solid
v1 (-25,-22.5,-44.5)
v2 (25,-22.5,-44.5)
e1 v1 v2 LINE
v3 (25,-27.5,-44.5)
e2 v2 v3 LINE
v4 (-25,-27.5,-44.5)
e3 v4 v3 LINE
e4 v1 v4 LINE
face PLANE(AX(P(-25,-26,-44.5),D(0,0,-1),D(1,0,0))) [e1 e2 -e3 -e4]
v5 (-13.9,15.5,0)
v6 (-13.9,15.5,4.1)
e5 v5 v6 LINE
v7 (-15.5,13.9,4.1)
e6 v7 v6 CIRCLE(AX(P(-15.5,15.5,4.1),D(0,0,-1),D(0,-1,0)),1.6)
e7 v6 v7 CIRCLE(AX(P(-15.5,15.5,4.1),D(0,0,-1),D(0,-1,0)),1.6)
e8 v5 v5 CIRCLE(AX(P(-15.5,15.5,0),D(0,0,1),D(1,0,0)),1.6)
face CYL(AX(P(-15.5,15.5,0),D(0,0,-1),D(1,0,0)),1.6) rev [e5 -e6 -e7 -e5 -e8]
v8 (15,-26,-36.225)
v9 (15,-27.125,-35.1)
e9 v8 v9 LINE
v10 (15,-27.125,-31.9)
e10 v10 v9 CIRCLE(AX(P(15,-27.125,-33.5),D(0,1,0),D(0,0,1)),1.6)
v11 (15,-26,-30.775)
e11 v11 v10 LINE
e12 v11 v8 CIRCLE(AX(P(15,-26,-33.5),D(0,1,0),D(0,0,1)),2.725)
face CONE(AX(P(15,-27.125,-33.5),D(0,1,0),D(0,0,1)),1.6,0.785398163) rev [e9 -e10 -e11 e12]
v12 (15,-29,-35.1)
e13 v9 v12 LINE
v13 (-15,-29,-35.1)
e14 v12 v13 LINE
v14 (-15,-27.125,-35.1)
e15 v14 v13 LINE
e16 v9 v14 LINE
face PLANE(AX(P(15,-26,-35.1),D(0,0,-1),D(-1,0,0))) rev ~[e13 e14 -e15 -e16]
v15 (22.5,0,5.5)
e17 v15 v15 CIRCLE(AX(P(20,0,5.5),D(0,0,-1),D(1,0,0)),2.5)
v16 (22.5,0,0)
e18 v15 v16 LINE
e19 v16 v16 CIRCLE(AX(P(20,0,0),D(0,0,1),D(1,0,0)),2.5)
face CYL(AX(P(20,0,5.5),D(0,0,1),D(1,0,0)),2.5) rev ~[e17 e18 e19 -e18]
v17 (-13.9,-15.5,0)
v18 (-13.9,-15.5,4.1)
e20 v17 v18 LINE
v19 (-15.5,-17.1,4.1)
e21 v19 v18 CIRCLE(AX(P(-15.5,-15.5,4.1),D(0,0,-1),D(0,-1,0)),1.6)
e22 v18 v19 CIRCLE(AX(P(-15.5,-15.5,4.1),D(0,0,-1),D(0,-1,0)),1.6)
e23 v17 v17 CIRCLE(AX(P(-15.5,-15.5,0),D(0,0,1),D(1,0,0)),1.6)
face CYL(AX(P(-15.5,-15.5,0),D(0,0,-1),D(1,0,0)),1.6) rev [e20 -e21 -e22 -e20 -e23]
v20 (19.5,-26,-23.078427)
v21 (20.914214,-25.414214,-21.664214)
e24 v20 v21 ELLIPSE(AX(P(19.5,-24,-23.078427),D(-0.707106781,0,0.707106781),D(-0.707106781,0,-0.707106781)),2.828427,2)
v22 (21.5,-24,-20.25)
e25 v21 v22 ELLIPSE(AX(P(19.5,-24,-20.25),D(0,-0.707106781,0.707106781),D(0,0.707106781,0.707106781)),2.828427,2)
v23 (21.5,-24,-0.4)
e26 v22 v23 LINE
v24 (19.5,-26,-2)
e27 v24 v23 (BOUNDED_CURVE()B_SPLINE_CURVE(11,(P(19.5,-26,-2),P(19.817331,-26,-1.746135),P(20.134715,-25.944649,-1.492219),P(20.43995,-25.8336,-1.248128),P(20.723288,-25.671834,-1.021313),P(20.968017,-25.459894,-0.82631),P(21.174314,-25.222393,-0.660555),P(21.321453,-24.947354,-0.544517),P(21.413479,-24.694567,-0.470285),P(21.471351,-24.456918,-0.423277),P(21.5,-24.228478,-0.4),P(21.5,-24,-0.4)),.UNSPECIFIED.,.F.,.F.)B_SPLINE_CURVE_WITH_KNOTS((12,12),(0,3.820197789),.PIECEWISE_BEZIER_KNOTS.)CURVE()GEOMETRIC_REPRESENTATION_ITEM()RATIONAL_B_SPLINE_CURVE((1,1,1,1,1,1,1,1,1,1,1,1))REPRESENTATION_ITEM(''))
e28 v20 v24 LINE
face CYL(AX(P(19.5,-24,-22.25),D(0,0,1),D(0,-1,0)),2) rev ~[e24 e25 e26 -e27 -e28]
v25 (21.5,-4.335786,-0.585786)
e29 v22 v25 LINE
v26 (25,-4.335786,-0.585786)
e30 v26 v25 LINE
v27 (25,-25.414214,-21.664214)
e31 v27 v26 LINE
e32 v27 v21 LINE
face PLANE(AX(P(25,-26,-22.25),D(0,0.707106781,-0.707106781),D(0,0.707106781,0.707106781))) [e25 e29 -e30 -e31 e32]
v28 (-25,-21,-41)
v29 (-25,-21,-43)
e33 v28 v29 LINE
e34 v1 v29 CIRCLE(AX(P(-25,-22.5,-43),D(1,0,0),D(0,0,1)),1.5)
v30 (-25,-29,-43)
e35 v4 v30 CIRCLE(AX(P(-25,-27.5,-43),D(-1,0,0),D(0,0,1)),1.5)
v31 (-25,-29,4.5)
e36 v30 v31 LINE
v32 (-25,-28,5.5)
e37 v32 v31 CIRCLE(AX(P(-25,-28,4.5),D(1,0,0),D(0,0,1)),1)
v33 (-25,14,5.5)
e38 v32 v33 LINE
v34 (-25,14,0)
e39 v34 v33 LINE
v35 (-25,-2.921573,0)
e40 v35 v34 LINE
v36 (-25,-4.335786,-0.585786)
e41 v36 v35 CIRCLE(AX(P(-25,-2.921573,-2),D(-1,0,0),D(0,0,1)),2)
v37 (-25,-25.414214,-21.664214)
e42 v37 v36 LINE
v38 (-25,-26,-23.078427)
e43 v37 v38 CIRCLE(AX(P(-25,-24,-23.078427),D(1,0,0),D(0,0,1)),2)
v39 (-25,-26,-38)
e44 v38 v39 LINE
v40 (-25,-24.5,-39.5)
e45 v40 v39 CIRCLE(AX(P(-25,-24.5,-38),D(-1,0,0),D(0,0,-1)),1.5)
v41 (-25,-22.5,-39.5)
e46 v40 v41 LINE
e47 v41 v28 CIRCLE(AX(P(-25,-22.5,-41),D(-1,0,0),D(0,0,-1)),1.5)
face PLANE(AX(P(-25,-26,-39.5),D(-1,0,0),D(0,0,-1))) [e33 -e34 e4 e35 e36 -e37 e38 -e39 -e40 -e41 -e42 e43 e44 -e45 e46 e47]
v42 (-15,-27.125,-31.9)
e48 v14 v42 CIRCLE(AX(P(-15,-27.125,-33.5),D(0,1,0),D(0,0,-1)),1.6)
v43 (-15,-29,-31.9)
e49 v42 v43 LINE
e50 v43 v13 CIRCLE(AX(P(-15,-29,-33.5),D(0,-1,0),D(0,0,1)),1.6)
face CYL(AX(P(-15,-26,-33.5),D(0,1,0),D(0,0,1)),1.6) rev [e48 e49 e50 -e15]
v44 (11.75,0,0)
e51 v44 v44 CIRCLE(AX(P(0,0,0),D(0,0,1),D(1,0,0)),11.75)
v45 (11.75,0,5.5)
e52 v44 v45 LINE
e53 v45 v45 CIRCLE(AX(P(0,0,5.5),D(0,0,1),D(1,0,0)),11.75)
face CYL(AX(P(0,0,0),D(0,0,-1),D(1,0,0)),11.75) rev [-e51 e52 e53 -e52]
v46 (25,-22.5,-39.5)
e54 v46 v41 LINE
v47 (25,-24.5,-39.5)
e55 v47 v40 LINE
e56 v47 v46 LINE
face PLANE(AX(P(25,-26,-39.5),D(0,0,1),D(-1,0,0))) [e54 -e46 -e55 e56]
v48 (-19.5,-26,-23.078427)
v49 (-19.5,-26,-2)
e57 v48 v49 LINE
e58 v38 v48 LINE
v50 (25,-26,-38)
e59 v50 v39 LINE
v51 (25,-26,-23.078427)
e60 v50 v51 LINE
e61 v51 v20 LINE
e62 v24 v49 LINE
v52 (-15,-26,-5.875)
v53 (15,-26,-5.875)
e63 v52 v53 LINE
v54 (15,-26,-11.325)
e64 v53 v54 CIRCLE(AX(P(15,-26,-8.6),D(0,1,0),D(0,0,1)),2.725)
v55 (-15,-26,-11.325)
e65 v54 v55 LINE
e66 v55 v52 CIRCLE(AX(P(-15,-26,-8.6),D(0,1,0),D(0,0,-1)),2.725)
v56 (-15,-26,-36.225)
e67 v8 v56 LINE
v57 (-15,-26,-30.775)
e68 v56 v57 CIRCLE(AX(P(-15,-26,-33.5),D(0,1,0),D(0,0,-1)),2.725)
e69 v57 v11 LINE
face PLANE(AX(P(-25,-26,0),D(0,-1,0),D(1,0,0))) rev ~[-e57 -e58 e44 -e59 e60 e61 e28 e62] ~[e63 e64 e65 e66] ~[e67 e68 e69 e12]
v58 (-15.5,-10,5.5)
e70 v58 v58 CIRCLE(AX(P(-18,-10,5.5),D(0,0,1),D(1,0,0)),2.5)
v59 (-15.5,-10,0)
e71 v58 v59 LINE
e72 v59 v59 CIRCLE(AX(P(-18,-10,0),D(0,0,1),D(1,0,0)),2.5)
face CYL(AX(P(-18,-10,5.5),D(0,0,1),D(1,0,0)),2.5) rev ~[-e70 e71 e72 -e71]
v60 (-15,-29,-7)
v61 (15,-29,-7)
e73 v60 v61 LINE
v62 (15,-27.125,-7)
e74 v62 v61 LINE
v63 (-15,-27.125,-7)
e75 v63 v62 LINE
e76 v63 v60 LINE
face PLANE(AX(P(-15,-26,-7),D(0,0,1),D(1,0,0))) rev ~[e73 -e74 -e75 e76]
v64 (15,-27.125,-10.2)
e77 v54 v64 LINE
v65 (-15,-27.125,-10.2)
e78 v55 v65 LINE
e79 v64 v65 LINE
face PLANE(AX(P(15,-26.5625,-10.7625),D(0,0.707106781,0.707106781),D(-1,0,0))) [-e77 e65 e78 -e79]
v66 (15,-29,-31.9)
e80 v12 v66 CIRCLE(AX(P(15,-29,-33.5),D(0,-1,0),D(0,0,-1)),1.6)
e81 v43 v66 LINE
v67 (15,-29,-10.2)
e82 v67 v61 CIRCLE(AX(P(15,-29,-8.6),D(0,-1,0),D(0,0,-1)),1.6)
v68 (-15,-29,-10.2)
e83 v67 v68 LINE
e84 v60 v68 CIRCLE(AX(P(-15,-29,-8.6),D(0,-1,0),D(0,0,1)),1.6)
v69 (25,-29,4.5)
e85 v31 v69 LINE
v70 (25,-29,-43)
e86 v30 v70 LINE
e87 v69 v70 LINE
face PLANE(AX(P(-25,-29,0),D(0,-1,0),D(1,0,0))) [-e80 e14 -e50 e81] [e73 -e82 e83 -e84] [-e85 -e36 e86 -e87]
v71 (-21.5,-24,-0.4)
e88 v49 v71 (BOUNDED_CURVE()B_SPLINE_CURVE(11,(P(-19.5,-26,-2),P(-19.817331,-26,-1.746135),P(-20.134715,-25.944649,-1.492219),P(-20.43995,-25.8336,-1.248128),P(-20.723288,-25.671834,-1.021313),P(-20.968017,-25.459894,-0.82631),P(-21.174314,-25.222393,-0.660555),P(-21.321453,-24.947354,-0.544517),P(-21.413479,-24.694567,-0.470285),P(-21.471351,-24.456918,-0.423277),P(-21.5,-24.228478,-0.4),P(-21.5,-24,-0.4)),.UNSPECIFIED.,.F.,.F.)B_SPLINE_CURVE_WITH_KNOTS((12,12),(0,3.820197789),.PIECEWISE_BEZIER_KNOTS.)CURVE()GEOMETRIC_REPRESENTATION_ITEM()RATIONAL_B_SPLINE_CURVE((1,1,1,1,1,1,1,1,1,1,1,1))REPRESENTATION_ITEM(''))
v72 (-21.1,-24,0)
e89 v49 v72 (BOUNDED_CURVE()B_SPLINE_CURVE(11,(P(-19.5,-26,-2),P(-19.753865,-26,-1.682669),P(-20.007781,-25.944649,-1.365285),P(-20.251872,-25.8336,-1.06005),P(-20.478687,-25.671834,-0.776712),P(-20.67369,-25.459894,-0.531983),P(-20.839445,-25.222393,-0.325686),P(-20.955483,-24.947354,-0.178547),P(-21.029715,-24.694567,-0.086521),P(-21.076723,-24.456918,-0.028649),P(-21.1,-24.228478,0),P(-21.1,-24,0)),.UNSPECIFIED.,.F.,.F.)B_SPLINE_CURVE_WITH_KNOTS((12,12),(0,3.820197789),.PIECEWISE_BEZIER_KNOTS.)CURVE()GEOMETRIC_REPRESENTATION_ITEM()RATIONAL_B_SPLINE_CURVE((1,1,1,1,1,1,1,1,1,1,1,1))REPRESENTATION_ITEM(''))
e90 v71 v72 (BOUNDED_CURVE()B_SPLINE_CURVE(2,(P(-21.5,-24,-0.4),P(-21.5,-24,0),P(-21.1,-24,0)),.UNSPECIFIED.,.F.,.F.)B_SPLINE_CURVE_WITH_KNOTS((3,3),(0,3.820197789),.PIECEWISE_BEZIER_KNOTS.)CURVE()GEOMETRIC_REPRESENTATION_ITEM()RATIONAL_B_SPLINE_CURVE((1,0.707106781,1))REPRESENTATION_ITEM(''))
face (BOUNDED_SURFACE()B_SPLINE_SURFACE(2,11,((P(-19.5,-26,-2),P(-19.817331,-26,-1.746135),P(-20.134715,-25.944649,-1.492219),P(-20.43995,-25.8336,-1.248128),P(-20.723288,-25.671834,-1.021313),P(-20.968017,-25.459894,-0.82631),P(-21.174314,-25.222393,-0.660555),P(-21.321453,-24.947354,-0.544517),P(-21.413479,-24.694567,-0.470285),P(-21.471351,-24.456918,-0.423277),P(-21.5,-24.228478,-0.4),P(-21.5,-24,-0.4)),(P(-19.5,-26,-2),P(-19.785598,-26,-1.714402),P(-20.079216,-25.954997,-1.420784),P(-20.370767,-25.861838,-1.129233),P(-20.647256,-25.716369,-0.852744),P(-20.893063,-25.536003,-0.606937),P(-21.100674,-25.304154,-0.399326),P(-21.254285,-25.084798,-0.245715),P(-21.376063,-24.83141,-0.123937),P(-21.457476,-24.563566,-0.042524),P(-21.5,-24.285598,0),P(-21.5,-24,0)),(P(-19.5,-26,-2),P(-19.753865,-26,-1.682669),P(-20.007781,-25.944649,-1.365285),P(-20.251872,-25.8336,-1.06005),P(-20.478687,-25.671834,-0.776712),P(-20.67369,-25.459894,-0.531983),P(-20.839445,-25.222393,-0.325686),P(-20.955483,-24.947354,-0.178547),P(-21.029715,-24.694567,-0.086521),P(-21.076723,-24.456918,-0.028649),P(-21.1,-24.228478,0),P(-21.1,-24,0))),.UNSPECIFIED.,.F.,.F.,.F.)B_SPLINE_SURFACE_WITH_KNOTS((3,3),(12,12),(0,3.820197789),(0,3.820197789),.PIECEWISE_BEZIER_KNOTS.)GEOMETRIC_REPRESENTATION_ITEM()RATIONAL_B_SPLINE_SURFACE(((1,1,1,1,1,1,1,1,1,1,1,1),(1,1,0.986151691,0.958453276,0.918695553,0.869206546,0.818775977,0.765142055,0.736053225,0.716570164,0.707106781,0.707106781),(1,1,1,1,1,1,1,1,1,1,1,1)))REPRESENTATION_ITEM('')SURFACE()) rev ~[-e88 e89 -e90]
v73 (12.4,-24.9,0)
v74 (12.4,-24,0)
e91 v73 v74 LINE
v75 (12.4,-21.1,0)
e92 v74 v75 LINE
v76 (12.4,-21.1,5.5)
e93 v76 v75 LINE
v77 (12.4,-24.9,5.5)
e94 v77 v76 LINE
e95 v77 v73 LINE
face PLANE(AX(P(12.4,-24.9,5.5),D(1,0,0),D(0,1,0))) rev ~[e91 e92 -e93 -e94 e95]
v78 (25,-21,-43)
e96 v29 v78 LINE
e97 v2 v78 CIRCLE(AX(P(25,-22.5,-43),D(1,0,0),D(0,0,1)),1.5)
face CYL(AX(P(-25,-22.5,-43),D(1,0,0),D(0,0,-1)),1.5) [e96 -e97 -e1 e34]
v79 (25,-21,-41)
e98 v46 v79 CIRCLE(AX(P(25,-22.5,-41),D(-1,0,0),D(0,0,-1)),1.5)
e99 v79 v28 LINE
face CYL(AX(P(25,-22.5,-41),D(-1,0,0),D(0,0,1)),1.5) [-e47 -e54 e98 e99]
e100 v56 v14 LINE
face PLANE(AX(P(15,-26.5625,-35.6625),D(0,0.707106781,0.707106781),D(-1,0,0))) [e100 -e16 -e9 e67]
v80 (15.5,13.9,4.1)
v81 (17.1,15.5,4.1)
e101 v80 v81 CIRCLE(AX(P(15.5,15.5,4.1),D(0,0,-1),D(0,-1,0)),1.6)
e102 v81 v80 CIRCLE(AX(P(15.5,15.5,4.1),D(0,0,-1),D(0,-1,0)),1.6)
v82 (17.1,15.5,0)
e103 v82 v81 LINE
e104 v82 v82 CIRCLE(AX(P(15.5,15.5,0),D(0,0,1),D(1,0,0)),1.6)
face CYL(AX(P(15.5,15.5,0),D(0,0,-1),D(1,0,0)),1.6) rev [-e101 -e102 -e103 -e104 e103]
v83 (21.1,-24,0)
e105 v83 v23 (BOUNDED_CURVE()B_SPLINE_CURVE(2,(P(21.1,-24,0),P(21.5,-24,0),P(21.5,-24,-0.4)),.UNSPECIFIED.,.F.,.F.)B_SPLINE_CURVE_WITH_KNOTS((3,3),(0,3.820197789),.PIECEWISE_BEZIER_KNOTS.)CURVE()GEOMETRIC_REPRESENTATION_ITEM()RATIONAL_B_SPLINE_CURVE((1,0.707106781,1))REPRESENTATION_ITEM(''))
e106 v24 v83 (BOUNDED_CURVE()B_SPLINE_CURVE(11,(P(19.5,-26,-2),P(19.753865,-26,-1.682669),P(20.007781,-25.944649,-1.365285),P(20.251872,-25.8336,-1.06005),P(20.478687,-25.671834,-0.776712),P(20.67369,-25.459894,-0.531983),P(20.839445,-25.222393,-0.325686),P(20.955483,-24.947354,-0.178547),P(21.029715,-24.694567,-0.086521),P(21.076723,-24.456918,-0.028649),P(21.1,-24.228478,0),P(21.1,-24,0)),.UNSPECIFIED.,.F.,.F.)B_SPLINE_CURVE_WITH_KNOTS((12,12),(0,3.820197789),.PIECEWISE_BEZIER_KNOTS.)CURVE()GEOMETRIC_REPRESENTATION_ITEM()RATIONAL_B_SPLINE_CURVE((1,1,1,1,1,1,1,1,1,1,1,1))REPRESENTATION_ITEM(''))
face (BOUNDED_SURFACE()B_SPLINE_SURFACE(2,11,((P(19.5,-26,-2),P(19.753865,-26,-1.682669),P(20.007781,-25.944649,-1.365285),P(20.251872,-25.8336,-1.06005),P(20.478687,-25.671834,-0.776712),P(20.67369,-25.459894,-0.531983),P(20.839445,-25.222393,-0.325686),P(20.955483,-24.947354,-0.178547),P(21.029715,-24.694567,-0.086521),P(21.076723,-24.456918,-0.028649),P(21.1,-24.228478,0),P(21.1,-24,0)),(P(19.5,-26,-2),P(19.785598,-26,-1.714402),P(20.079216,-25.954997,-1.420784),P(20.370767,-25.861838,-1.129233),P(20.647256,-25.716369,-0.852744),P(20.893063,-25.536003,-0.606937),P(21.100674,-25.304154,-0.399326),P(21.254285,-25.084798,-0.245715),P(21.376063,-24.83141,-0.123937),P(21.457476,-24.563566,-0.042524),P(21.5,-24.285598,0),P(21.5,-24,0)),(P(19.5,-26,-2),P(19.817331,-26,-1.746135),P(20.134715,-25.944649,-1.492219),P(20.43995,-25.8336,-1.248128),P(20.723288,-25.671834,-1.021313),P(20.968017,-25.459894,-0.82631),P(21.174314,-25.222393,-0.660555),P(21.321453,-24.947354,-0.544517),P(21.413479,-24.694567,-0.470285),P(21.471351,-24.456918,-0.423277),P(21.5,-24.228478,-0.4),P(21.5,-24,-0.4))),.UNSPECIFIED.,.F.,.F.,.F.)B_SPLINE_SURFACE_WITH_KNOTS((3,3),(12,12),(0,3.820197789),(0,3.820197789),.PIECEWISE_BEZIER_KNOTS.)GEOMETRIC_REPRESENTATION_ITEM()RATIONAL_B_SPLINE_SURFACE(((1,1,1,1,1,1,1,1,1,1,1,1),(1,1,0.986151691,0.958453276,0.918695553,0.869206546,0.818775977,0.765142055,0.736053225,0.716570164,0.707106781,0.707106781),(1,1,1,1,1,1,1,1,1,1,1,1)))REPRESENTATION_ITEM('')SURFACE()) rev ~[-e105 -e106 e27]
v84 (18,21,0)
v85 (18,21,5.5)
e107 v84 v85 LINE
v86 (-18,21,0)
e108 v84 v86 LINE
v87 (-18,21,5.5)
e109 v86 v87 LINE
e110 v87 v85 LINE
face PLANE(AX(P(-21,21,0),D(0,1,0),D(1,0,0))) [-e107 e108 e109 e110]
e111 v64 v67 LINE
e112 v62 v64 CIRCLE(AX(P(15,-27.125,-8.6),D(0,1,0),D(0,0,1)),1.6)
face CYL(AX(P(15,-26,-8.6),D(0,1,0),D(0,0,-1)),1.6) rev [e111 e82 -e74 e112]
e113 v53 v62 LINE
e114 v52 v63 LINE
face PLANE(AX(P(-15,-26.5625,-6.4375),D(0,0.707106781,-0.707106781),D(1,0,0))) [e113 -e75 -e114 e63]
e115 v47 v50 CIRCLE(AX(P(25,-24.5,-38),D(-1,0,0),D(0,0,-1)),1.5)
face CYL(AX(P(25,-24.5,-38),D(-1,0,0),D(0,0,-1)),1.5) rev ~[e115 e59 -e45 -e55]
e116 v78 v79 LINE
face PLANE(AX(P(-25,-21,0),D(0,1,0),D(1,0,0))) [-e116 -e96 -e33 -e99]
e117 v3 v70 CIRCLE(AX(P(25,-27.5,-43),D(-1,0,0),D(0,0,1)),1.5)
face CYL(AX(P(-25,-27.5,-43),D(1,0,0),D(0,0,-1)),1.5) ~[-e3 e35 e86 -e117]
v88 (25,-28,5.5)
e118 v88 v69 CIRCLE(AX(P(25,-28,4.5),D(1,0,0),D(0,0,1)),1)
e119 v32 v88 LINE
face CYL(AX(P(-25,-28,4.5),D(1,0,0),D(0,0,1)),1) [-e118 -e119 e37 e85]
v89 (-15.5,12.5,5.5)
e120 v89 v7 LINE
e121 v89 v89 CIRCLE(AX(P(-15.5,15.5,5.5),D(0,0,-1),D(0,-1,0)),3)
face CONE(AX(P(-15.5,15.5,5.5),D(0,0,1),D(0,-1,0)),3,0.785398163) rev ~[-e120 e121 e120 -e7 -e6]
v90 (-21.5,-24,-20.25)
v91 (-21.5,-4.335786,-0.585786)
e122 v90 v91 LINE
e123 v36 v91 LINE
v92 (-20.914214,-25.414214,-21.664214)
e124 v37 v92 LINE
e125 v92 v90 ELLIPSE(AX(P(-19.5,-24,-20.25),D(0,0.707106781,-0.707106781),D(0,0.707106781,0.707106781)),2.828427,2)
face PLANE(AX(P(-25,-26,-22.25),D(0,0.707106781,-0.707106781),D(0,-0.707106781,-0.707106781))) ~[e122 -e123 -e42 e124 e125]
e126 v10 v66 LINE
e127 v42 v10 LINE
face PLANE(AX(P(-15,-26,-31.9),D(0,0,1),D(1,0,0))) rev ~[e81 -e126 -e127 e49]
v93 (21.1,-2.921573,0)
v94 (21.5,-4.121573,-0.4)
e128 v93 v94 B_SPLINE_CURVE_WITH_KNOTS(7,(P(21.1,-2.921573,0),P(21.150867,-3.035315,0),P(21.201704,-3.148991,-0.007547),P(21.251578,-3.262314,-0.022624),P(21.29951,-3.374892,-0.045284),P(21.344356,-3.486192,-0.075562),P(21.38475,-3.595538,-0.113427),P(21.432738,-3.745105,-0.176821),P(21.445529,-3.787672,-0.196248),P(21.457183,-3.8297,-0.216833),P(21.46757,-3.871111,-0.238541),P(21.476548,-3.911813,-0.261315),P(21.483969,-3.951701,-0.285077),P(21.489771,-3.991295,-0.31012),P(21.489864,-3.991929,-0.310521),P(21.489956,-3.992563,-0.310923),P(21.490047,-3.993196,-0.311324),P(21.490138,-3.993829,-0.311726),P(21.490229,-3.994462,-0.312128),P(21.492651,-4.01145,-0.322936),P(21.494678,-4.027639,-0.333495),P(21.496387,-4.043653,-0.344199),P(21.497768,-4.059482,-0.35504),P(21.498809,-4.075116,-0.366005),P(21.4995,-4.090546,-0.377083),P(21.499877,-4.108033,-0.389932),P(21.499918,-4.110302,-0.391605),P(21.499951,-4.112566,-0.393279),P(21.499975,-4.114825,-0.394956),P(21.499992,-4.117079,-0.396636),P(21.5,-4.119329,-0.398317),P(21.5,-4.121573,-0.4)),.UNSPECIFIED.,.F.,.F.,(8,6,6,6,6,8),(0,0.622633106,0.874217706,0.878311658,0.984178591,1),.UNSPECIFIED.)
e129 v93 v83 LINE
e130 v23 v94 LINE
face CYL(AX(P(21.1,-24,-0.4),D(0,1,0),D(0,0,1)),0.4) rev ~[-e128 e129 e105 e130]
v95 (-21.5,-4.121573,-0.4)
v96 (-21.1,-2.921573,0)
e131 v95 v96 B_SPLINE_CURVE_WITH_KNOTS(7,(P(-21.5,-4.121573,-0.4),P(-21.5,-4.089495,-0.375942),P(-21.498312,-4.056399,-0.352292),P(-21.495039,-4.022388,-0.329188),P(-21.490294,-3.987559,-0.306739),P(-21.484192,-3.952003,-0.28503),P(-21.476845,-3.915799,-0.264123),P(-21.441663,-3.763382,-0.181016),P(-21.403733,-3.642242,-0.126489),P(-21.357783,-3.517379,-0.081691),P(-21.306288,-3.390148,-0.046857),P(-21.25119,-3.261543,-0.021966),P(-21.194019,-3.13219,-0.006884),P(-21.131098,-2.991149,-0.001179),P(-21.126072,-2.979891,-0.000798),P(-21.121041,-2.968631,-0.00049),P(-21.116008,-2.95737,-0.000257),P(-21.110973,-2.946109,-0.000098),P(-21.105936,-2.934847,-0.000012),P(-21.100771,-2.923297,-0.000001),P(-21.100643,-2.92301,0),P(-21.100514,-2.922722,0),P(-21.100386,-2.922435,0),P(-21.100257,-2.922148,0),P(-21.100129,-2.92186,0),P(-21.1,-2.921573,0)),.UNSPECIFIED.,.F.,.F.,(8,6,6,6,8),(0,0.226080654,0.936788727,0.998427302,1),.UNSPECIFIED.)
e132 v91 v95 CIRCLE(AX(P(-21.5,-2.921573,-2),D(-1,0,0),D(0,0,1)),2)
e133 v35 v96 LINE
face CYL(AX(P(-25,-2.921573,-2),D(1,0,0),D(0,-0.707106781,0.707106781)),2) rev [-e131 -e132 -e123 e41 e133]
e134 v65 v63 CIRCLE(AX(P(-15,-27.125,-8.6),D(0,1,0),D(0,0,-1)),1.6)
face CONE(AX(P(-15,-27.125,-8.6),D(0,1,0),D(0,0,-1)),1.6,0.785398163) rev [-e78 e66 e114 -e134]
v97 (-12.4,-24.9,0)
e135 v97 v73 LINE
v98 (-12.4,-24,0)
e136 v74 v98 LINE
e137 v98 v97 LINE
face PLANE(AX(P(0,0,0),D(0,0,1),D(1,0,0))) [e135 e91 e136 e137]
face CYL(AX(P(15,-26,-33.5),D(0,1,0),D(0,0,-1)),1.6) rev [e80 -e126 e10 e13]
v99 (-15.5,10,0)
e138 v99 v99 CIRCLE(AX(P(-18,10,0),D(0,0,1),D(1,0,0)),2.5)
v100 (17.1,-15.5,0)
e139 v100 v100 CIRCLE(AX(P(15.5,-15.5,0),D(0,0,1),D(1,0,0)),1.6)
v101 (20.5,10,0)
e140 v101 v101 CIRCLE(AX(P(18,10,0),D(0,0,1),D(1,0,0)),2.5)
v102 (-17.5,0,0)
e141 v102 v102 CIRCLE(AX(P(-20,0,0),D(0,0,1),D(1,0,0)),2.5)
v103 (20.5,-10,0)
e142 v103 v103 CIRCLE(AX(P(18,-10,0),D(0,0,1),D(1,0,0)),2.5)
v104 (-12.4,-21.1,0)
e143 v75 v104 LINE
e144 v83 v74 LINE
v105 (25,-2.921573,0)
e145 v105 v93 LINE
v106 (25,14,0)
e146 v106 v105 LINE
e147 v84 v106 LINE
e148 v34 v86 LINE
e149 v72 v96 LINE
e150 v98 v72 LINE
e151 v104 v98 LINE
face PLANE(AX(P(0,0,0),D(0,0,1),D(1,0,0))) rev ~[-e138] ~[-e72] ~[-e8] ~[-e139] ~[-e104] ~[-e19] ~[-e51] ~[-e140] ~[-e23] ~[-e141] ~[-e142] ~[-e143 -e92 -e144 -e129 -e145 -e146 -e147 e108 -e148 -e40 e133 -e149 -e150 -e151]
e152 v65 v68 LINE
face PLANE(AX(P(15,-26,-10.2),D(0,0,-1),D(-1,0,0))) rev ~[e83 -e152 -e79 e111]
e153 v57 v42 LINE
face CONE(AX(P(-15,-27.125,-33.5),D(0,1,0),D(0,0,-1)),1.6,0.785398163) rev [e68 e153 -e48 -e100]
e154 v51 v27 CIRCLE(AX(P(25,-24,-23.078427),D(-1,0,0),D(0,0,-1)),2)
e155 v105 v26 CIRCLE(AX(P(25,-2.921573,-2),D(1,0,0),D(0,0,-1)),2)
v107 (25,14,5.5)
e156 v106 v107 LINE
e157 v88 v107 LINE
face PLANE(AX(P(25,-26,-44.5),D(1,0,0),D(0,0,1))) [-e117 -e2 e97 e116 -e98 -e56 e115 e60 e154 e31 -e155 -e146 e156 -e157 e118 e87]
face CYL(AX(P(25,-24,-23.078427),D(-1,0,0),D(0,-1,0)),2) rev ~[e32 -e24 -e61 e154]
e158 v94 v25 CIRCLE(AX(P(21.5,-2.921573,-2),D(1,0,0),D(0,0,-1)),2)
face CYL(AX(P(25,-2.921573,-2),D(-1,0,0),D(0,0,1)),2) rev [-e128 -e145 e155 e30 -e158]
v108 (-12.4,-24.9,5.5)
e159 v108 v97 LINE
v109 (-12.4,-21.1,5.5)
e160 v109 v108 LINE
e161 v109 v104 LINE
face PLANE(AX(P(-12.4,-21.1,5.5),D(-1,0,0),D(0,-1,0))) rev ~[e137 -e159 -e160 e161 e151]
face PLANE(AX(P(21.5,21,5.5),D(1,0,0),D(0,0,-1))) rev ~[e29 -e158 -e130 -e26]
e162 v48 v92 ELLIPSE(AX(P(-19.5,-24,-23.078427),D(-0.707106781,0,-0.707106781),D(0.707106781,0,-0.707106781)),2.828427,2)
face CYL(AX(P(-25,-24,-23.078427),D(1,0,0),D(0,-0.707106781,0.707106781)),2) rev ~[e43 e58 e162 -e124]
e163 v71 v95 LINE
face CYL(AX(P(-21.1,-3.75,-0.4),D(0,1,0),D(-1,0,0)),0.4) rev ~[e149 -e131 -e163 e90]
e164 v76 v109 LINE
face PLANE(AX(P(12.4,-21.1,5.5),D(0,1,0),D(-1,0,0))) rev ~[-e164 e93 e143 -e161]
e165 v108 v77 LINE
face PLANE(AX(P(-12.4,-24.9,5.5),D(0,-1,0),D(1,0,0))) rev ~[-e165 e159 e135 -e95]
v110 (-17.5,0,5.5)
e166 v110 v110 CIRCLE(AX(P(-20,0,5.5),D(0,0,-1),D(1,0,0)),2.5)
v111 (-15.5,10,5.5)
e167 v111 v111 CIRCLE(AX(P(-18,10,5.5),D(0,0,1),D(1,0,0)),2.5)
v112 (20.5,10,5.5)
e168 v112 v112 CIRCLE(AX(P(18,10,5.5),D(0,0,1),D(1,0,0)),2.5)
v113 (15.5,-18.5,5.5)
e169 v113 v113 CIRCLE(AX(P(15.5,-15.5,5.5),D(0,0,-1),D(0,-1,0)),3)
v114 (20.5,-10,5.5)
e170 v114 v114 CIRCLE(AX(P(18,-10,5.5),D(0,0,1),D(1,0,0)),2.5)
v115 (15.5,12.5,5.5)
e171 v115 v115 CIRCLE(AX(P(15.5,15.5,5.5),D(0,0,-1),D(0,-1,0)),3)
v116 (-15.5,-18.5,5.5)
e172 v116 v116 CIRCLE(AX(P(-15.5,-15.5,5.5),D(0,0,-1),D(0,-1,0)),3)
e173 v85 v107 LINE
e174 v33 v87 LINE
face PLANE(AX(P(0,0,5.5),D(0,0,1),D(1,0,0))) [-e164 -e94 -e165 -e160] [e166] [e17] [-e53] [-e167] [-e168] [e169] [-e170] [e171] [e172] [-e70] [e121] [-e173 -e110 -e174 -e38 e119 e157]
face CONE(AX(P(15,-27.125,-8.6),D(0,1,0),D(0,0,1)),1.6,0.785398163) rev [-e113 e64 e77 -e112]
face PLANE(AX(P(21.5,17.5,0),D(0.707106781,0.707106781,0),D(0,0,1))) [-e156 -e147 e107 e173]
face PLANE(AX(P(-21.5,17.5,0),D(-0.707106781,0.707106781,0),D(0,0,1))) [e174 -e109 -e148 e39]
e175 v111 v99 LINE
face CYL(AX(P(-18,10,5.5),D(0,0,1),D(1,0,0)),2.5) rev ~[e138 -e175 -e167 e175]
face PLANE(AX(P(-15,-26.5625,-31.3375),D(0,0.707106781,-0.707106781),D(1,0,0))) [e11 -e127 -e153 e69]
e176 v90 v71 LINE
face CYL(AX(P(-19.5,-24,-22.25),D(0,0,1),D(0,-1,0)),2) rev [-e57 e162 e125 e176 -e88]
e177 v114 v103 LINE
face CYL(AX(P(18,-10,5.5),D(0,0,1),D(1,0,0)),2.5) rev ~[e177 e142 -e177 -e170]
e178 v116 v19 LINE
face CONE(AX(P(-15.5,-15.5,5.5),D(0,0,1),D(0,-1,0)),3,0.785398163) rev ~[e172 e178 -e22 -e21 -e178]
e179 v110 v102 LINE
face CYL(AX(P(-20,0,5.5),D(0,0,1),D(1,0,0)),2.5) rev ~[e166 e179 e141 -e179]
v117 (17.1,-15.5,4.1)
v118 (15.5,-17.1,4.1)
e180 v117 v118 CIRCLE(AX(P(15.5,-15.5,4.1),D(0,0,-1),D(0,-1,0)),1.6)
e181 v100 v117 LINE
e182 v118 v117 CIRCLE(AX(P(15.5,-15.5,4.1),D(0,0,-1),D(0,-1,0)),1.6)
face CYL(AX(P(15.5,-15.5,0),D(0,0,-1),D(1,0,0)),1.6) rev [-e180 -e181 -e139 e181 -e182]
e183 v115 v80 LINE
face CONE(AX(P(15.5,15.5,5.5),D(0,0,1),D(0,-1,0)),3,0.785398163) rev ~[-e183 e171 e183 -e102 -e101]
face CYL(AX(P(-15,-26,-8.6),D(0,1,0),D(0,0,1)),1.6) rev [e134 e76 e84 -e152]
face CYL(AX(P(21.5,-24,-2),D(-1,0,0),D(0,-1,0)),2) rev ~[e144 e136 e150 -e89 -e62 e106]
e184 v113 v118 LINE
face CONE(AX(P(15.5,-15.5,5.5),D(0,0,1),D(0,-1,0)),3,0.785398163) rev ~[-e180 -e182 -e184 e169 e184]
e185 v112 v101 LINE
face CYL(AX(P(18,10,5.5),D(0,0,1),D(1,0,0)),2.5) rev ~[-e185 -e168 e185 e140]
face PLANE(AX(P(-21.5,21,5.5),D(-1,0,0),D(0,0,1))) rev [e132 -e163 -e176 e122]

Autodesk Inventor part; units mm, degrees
ref_plane "YZ Plane" through (0, 0, 0) normal (1, 0, 0) x (0, 1, 0)
ref_plane "XZ Plane" through (0, 0, 0) normal (0, 1, 0) x (-1, 0, 0)
ref_plane "XY Plane" through (0, 0, 0) normal (0, 0, 1) x (1, 0, 0)
sketch "Sketch1" plane through (0, 0, 0) normal (0, 0, 1) x (1, 0, 0)
  line L0 (-21, 21) -> (21, 21)
  line L1 (21, 21) -> (21, -21)
  line L2 (21, -21) -> (-21, -21)
  line L3 (-21, -21) -> (-21, 21)
  line L4 (-21, 21) -> (21, -21) construction
  line L5 (21, 21) -> (-21, -21) construction
  circle A0 centre (15.5, 15.5) radius 1.6
  circle A1 centre (15.5, -15.5) radius 1.6
  line L6 (0, 0) -> (0, 3.2399) construction
  circle A2 centre (-15.5, 15.5) radius 1.6
  circle A3 centre (-15.5, -15.5) radius 1.6
  circle A4 centre (0, 0) radius 11.75
  line L7 (-25, 21) -> (25, 21)
  line L8 (25, 21) -> (25, -26)
  line L9 (25, -26) -> (-25, -26)
  line L10 (-25, -26) -> (-25, 21)
  dimension "d0" = 42
  dimension "d1" = 42
  dimension "d2" = 31
  dimension "d3" = 3.2
  dimension "d4" = 3.2
  dimension "d5" = 23.5
  dimension "d9" = 4
  dimension "d10" = 4
  dimension "d11" = 5
extrude "Extrusion1" add sketch "Sketch1" along normal blind 5.5
sketch "Sketch2" plane through (-25, -26, 0) normal (0, -1, 0) x (1, 0, 0)
  line L0 (0, 5.5) -> (50, 5.5) projected
  line L1 (50, 5.5) -> (0, 5.5)
  line L2 (0, 5.5) -> (0, -44.5)
  line L3 (0, -44.5) -> (50, -44.5)
  line L4 (50, -44.5) -> (50, 5.5)
  line L5 (0, 0) -> (0, 5.5) projected
  line L6 (0, 0) -> (50, -44.5) construction
  line L7 (50, 0) -> (0, -44.5) construction
  line L8 (50, 0) -> (0, 0) projected
  line L9 (8.4, -33.5) -> (41.6, -33.5) construction
  line L10 (10, -31.9) -> (40, -31.9)
  line L11 (40, -35.1) -> (10, -35.1)
  arc A0 (10, -31.9) -> (10, -35.1) centre (10, -33.5) ccw
  arc A1 (40, -35.1) -> (40, -31.9) centre (40, -33.5) ccw
  line L12 (8.4, -8.6) -> (41.6, -8.6) construction
  line L13 (10, -7) -> (40, -7)
  line L14 (40, -10.2) -> (10, -10.2)
  arc A2 (10, -7) -> (10, -10.2) centre (10, -8.6) ccw
  arc A3 (40, -10.2) -> (40, -7) centre (40, -8.6) ccw
  point P0 (25, 0)
  point P1 (49.9436, 3)
  point P2 (25, -33.5)
  point P3 (25, -8.6)
  dimension "d12" = 50
  dimension "d71" = 1.6
  dimension "d72" = 1.6
  dimension "d73" = 25
  dimension "d74" = 25
  dimension "d75" = 30
  dimension "d76" = 30
  dimension "d78" = 7
  dimension "d86" = 11
extrude "Extrusion2" add sketch "Sketch2" along normal blind 3
sketch "Sketch5" plane through (25, 21, 5.5) normal (1, 0, 0) x (0, 0, -1)
  line L0 (50, -47) -> (5.5, -47) projected
  line L1 (27.75, -47) -> (5.5, -24.75)
  line L2 (5.5, -47) -> (5.5, 0) projected
  point P0 (5.5, -21)
  dimension "d20" = 45
extrude "Extrusion3" add sketch "Sketch5" against normal blind 3.5
mirror "Mirror1" about plane through (0, 0, 0) normal (1, 0, 0) of "Extrusion3"
fillet "Fillet1" radius 2 7 edges at (0, -26, 0) (-21.5, -26, -11.125) (21.5, -26, -11.125) (23.25, -26, -22.25) (23.25, -3.75, 0) (-23.25, -3.75, 0) (-23.25, -26, -22.25)
fillet "Fillet2" radius 0.4 4 edges at (-20.9142, -25.4142, -0.5858) (-21.5, -13.875, 0) (20.9142, -25.4142, -0.5858) (21.5, -13.875, 0)
sketch "Sketch6" plane through (-25, -26, 0) normal (0, 1, 0) x (1, 0, 0)
  line L0 (0, -5.5) -> (0, 44.5) projected
  line L1 (50, 44.5) -> (50, -5.5) projected
  line L2 (0, 44.5) -> (50, 44.5)
  line L3 (50, 44.5) -> (50, 39.5)
  line L4 (50, 39.5) -> (0, 39.5)
  line L5 (0, 39.5) -> (0, 44.5)
  point P0 (25, 0)
  point P1 (0, 39.5)
  dimension "d25" = 5
extrude "Extrusion4" add sketch "Sketch6" along normal blind 5
fillet "Fillet3" radius 1.5 4 edges at (0, -21, -39.5) (0, -21, -44.5) (0, -26, -39.5) (0, -29, -44.5)
sketch "Sketch7" plane through (0, 0, 5.5) normal (0, 0, 1) x (1, 0, 0)
  line L0 (25, 21) -> (-25, 21) projected
  line L1 (-25, 21) -> (-25, -29) projected
  line L2 (25, -29) -> (-25, -29) projected
  line L3 (25, 21) -> (25, -29) projected
  circle A0 centre (15.5, 15.5) radius 1.6 projected
  circle A1 centre (15.5, -15.5) radius 1.6 projected
  circle A2 centre (-15.5, 15.5) radius 1.6 projected
  circle A3 centre (-15.5, -15.5) radius 1.6 projected
  circle A4 centre (0, 0) radius 11.75 projected
  line L4 (35, 0) -> (-35, 0)
  line L5 (0, 0) -> (0, -3.907) construction
  line L6 (-12.4, -24.9) -> (12.4, -24.9)
  line L7 (12.4, -24.9) -> (12.4, -21.1)
  line L8 (12.4, -21.1) -> (-12.4, -21.1)
  line L9 (-12.4, -21.1) -> (-12.4, -24.9)
  line L10 (-12.4, -24.9) -> (12.4, -21.1) construction
  line L11 (12.4, -24.9) -> (-12.4, -21.1) construction
  circle A5 centre (-20, 0) radius 2.5
  circle A6 centre (-18, 10) radius 2.5
  circle A7 centre (-18, -10) radius 2.5
  circle A8 centre (18, -10) radius 2.5
  circle A9 centre (20, 0) radius 2.5
  circle A10 centre (18, 10) radius 2.5
  point P0 (0, -23)
  dimension "d94" = 3.8
  dimension "d95" = 23
  dimension "d96" = 24.8
  dimension "d97" = 12.4
  dimension "d98" = 5
  dimension "d99" = 5
  dimension "d100" = 5
  dimension "d101" = 10
  dimension "d102" = 10
  dimension "d103" = 2
  dimension "d104" = 2
  dimension "d105" = 20
extrude "Extrusion5" cut sketch "Sketch7" against normal up to surface (5.5 mm away) contours A9 L4 | L4 A9 | A5 L4 | L4 A5 | L9 L8 L7 L6 | A6 | A7 | A8 | A10
sketch "Sketch8" plane through (0, 0, 5.5) normal (0, 0, 1) x (1, 0, 0)
  circle A0 centre (-15.5, 15.5) radius 1.6 projected
  circle A1 centre (15.5, 15.5) radius 1.6 projected
  circle A2 centre (15.5, -15.5) radius 1.6 projected
  circle A3 centre (-15.5, -15.5) radius 1.6 projected
  point P0 (0, 0)
hole "Hole2" at (-15.5, 15.5, 5.5) at (15.5, 15.5, 5.5) at (15.5, -15.5, 5.5) at (-15.5, -15.5, 5.5) direction (0, 0, -1) diameter 3.2 depth 10 countersink diameter 6 countersink angle 90
chamfer "Chamfer1" distance 7 angle 45 2 edges at (-25, 21, 2.75) (25, 21, 2.75)
fillet "Fillet4" radius 1 1 edges at (0, -29, 5.5)
chamfer "Chamfer2" distance 1.125 angle 45 8 edges at (0, -26, -7) (16.6, -26, -8.6) (0, -26, -10.2) (-16.6, -26, -8.6) (0, -26, -31.9) (16.6, -26, -33.5) (0, -26, -35.1) (-16.6, -26, -33.5)
equation "\"d1\" = d0"
equation "\"d4\" = d3"
equation "\"d10\" = d9"
equation "\"d97\" = 0.5 * d96"
equation "\"d99\" = d98"
equation "\"d100\" = d99"
equation "\"d102\" = d101"
equation "\"d104\" = d103"
properties part number "Stepper Mount V4" material "Thermoplastic Resin"
